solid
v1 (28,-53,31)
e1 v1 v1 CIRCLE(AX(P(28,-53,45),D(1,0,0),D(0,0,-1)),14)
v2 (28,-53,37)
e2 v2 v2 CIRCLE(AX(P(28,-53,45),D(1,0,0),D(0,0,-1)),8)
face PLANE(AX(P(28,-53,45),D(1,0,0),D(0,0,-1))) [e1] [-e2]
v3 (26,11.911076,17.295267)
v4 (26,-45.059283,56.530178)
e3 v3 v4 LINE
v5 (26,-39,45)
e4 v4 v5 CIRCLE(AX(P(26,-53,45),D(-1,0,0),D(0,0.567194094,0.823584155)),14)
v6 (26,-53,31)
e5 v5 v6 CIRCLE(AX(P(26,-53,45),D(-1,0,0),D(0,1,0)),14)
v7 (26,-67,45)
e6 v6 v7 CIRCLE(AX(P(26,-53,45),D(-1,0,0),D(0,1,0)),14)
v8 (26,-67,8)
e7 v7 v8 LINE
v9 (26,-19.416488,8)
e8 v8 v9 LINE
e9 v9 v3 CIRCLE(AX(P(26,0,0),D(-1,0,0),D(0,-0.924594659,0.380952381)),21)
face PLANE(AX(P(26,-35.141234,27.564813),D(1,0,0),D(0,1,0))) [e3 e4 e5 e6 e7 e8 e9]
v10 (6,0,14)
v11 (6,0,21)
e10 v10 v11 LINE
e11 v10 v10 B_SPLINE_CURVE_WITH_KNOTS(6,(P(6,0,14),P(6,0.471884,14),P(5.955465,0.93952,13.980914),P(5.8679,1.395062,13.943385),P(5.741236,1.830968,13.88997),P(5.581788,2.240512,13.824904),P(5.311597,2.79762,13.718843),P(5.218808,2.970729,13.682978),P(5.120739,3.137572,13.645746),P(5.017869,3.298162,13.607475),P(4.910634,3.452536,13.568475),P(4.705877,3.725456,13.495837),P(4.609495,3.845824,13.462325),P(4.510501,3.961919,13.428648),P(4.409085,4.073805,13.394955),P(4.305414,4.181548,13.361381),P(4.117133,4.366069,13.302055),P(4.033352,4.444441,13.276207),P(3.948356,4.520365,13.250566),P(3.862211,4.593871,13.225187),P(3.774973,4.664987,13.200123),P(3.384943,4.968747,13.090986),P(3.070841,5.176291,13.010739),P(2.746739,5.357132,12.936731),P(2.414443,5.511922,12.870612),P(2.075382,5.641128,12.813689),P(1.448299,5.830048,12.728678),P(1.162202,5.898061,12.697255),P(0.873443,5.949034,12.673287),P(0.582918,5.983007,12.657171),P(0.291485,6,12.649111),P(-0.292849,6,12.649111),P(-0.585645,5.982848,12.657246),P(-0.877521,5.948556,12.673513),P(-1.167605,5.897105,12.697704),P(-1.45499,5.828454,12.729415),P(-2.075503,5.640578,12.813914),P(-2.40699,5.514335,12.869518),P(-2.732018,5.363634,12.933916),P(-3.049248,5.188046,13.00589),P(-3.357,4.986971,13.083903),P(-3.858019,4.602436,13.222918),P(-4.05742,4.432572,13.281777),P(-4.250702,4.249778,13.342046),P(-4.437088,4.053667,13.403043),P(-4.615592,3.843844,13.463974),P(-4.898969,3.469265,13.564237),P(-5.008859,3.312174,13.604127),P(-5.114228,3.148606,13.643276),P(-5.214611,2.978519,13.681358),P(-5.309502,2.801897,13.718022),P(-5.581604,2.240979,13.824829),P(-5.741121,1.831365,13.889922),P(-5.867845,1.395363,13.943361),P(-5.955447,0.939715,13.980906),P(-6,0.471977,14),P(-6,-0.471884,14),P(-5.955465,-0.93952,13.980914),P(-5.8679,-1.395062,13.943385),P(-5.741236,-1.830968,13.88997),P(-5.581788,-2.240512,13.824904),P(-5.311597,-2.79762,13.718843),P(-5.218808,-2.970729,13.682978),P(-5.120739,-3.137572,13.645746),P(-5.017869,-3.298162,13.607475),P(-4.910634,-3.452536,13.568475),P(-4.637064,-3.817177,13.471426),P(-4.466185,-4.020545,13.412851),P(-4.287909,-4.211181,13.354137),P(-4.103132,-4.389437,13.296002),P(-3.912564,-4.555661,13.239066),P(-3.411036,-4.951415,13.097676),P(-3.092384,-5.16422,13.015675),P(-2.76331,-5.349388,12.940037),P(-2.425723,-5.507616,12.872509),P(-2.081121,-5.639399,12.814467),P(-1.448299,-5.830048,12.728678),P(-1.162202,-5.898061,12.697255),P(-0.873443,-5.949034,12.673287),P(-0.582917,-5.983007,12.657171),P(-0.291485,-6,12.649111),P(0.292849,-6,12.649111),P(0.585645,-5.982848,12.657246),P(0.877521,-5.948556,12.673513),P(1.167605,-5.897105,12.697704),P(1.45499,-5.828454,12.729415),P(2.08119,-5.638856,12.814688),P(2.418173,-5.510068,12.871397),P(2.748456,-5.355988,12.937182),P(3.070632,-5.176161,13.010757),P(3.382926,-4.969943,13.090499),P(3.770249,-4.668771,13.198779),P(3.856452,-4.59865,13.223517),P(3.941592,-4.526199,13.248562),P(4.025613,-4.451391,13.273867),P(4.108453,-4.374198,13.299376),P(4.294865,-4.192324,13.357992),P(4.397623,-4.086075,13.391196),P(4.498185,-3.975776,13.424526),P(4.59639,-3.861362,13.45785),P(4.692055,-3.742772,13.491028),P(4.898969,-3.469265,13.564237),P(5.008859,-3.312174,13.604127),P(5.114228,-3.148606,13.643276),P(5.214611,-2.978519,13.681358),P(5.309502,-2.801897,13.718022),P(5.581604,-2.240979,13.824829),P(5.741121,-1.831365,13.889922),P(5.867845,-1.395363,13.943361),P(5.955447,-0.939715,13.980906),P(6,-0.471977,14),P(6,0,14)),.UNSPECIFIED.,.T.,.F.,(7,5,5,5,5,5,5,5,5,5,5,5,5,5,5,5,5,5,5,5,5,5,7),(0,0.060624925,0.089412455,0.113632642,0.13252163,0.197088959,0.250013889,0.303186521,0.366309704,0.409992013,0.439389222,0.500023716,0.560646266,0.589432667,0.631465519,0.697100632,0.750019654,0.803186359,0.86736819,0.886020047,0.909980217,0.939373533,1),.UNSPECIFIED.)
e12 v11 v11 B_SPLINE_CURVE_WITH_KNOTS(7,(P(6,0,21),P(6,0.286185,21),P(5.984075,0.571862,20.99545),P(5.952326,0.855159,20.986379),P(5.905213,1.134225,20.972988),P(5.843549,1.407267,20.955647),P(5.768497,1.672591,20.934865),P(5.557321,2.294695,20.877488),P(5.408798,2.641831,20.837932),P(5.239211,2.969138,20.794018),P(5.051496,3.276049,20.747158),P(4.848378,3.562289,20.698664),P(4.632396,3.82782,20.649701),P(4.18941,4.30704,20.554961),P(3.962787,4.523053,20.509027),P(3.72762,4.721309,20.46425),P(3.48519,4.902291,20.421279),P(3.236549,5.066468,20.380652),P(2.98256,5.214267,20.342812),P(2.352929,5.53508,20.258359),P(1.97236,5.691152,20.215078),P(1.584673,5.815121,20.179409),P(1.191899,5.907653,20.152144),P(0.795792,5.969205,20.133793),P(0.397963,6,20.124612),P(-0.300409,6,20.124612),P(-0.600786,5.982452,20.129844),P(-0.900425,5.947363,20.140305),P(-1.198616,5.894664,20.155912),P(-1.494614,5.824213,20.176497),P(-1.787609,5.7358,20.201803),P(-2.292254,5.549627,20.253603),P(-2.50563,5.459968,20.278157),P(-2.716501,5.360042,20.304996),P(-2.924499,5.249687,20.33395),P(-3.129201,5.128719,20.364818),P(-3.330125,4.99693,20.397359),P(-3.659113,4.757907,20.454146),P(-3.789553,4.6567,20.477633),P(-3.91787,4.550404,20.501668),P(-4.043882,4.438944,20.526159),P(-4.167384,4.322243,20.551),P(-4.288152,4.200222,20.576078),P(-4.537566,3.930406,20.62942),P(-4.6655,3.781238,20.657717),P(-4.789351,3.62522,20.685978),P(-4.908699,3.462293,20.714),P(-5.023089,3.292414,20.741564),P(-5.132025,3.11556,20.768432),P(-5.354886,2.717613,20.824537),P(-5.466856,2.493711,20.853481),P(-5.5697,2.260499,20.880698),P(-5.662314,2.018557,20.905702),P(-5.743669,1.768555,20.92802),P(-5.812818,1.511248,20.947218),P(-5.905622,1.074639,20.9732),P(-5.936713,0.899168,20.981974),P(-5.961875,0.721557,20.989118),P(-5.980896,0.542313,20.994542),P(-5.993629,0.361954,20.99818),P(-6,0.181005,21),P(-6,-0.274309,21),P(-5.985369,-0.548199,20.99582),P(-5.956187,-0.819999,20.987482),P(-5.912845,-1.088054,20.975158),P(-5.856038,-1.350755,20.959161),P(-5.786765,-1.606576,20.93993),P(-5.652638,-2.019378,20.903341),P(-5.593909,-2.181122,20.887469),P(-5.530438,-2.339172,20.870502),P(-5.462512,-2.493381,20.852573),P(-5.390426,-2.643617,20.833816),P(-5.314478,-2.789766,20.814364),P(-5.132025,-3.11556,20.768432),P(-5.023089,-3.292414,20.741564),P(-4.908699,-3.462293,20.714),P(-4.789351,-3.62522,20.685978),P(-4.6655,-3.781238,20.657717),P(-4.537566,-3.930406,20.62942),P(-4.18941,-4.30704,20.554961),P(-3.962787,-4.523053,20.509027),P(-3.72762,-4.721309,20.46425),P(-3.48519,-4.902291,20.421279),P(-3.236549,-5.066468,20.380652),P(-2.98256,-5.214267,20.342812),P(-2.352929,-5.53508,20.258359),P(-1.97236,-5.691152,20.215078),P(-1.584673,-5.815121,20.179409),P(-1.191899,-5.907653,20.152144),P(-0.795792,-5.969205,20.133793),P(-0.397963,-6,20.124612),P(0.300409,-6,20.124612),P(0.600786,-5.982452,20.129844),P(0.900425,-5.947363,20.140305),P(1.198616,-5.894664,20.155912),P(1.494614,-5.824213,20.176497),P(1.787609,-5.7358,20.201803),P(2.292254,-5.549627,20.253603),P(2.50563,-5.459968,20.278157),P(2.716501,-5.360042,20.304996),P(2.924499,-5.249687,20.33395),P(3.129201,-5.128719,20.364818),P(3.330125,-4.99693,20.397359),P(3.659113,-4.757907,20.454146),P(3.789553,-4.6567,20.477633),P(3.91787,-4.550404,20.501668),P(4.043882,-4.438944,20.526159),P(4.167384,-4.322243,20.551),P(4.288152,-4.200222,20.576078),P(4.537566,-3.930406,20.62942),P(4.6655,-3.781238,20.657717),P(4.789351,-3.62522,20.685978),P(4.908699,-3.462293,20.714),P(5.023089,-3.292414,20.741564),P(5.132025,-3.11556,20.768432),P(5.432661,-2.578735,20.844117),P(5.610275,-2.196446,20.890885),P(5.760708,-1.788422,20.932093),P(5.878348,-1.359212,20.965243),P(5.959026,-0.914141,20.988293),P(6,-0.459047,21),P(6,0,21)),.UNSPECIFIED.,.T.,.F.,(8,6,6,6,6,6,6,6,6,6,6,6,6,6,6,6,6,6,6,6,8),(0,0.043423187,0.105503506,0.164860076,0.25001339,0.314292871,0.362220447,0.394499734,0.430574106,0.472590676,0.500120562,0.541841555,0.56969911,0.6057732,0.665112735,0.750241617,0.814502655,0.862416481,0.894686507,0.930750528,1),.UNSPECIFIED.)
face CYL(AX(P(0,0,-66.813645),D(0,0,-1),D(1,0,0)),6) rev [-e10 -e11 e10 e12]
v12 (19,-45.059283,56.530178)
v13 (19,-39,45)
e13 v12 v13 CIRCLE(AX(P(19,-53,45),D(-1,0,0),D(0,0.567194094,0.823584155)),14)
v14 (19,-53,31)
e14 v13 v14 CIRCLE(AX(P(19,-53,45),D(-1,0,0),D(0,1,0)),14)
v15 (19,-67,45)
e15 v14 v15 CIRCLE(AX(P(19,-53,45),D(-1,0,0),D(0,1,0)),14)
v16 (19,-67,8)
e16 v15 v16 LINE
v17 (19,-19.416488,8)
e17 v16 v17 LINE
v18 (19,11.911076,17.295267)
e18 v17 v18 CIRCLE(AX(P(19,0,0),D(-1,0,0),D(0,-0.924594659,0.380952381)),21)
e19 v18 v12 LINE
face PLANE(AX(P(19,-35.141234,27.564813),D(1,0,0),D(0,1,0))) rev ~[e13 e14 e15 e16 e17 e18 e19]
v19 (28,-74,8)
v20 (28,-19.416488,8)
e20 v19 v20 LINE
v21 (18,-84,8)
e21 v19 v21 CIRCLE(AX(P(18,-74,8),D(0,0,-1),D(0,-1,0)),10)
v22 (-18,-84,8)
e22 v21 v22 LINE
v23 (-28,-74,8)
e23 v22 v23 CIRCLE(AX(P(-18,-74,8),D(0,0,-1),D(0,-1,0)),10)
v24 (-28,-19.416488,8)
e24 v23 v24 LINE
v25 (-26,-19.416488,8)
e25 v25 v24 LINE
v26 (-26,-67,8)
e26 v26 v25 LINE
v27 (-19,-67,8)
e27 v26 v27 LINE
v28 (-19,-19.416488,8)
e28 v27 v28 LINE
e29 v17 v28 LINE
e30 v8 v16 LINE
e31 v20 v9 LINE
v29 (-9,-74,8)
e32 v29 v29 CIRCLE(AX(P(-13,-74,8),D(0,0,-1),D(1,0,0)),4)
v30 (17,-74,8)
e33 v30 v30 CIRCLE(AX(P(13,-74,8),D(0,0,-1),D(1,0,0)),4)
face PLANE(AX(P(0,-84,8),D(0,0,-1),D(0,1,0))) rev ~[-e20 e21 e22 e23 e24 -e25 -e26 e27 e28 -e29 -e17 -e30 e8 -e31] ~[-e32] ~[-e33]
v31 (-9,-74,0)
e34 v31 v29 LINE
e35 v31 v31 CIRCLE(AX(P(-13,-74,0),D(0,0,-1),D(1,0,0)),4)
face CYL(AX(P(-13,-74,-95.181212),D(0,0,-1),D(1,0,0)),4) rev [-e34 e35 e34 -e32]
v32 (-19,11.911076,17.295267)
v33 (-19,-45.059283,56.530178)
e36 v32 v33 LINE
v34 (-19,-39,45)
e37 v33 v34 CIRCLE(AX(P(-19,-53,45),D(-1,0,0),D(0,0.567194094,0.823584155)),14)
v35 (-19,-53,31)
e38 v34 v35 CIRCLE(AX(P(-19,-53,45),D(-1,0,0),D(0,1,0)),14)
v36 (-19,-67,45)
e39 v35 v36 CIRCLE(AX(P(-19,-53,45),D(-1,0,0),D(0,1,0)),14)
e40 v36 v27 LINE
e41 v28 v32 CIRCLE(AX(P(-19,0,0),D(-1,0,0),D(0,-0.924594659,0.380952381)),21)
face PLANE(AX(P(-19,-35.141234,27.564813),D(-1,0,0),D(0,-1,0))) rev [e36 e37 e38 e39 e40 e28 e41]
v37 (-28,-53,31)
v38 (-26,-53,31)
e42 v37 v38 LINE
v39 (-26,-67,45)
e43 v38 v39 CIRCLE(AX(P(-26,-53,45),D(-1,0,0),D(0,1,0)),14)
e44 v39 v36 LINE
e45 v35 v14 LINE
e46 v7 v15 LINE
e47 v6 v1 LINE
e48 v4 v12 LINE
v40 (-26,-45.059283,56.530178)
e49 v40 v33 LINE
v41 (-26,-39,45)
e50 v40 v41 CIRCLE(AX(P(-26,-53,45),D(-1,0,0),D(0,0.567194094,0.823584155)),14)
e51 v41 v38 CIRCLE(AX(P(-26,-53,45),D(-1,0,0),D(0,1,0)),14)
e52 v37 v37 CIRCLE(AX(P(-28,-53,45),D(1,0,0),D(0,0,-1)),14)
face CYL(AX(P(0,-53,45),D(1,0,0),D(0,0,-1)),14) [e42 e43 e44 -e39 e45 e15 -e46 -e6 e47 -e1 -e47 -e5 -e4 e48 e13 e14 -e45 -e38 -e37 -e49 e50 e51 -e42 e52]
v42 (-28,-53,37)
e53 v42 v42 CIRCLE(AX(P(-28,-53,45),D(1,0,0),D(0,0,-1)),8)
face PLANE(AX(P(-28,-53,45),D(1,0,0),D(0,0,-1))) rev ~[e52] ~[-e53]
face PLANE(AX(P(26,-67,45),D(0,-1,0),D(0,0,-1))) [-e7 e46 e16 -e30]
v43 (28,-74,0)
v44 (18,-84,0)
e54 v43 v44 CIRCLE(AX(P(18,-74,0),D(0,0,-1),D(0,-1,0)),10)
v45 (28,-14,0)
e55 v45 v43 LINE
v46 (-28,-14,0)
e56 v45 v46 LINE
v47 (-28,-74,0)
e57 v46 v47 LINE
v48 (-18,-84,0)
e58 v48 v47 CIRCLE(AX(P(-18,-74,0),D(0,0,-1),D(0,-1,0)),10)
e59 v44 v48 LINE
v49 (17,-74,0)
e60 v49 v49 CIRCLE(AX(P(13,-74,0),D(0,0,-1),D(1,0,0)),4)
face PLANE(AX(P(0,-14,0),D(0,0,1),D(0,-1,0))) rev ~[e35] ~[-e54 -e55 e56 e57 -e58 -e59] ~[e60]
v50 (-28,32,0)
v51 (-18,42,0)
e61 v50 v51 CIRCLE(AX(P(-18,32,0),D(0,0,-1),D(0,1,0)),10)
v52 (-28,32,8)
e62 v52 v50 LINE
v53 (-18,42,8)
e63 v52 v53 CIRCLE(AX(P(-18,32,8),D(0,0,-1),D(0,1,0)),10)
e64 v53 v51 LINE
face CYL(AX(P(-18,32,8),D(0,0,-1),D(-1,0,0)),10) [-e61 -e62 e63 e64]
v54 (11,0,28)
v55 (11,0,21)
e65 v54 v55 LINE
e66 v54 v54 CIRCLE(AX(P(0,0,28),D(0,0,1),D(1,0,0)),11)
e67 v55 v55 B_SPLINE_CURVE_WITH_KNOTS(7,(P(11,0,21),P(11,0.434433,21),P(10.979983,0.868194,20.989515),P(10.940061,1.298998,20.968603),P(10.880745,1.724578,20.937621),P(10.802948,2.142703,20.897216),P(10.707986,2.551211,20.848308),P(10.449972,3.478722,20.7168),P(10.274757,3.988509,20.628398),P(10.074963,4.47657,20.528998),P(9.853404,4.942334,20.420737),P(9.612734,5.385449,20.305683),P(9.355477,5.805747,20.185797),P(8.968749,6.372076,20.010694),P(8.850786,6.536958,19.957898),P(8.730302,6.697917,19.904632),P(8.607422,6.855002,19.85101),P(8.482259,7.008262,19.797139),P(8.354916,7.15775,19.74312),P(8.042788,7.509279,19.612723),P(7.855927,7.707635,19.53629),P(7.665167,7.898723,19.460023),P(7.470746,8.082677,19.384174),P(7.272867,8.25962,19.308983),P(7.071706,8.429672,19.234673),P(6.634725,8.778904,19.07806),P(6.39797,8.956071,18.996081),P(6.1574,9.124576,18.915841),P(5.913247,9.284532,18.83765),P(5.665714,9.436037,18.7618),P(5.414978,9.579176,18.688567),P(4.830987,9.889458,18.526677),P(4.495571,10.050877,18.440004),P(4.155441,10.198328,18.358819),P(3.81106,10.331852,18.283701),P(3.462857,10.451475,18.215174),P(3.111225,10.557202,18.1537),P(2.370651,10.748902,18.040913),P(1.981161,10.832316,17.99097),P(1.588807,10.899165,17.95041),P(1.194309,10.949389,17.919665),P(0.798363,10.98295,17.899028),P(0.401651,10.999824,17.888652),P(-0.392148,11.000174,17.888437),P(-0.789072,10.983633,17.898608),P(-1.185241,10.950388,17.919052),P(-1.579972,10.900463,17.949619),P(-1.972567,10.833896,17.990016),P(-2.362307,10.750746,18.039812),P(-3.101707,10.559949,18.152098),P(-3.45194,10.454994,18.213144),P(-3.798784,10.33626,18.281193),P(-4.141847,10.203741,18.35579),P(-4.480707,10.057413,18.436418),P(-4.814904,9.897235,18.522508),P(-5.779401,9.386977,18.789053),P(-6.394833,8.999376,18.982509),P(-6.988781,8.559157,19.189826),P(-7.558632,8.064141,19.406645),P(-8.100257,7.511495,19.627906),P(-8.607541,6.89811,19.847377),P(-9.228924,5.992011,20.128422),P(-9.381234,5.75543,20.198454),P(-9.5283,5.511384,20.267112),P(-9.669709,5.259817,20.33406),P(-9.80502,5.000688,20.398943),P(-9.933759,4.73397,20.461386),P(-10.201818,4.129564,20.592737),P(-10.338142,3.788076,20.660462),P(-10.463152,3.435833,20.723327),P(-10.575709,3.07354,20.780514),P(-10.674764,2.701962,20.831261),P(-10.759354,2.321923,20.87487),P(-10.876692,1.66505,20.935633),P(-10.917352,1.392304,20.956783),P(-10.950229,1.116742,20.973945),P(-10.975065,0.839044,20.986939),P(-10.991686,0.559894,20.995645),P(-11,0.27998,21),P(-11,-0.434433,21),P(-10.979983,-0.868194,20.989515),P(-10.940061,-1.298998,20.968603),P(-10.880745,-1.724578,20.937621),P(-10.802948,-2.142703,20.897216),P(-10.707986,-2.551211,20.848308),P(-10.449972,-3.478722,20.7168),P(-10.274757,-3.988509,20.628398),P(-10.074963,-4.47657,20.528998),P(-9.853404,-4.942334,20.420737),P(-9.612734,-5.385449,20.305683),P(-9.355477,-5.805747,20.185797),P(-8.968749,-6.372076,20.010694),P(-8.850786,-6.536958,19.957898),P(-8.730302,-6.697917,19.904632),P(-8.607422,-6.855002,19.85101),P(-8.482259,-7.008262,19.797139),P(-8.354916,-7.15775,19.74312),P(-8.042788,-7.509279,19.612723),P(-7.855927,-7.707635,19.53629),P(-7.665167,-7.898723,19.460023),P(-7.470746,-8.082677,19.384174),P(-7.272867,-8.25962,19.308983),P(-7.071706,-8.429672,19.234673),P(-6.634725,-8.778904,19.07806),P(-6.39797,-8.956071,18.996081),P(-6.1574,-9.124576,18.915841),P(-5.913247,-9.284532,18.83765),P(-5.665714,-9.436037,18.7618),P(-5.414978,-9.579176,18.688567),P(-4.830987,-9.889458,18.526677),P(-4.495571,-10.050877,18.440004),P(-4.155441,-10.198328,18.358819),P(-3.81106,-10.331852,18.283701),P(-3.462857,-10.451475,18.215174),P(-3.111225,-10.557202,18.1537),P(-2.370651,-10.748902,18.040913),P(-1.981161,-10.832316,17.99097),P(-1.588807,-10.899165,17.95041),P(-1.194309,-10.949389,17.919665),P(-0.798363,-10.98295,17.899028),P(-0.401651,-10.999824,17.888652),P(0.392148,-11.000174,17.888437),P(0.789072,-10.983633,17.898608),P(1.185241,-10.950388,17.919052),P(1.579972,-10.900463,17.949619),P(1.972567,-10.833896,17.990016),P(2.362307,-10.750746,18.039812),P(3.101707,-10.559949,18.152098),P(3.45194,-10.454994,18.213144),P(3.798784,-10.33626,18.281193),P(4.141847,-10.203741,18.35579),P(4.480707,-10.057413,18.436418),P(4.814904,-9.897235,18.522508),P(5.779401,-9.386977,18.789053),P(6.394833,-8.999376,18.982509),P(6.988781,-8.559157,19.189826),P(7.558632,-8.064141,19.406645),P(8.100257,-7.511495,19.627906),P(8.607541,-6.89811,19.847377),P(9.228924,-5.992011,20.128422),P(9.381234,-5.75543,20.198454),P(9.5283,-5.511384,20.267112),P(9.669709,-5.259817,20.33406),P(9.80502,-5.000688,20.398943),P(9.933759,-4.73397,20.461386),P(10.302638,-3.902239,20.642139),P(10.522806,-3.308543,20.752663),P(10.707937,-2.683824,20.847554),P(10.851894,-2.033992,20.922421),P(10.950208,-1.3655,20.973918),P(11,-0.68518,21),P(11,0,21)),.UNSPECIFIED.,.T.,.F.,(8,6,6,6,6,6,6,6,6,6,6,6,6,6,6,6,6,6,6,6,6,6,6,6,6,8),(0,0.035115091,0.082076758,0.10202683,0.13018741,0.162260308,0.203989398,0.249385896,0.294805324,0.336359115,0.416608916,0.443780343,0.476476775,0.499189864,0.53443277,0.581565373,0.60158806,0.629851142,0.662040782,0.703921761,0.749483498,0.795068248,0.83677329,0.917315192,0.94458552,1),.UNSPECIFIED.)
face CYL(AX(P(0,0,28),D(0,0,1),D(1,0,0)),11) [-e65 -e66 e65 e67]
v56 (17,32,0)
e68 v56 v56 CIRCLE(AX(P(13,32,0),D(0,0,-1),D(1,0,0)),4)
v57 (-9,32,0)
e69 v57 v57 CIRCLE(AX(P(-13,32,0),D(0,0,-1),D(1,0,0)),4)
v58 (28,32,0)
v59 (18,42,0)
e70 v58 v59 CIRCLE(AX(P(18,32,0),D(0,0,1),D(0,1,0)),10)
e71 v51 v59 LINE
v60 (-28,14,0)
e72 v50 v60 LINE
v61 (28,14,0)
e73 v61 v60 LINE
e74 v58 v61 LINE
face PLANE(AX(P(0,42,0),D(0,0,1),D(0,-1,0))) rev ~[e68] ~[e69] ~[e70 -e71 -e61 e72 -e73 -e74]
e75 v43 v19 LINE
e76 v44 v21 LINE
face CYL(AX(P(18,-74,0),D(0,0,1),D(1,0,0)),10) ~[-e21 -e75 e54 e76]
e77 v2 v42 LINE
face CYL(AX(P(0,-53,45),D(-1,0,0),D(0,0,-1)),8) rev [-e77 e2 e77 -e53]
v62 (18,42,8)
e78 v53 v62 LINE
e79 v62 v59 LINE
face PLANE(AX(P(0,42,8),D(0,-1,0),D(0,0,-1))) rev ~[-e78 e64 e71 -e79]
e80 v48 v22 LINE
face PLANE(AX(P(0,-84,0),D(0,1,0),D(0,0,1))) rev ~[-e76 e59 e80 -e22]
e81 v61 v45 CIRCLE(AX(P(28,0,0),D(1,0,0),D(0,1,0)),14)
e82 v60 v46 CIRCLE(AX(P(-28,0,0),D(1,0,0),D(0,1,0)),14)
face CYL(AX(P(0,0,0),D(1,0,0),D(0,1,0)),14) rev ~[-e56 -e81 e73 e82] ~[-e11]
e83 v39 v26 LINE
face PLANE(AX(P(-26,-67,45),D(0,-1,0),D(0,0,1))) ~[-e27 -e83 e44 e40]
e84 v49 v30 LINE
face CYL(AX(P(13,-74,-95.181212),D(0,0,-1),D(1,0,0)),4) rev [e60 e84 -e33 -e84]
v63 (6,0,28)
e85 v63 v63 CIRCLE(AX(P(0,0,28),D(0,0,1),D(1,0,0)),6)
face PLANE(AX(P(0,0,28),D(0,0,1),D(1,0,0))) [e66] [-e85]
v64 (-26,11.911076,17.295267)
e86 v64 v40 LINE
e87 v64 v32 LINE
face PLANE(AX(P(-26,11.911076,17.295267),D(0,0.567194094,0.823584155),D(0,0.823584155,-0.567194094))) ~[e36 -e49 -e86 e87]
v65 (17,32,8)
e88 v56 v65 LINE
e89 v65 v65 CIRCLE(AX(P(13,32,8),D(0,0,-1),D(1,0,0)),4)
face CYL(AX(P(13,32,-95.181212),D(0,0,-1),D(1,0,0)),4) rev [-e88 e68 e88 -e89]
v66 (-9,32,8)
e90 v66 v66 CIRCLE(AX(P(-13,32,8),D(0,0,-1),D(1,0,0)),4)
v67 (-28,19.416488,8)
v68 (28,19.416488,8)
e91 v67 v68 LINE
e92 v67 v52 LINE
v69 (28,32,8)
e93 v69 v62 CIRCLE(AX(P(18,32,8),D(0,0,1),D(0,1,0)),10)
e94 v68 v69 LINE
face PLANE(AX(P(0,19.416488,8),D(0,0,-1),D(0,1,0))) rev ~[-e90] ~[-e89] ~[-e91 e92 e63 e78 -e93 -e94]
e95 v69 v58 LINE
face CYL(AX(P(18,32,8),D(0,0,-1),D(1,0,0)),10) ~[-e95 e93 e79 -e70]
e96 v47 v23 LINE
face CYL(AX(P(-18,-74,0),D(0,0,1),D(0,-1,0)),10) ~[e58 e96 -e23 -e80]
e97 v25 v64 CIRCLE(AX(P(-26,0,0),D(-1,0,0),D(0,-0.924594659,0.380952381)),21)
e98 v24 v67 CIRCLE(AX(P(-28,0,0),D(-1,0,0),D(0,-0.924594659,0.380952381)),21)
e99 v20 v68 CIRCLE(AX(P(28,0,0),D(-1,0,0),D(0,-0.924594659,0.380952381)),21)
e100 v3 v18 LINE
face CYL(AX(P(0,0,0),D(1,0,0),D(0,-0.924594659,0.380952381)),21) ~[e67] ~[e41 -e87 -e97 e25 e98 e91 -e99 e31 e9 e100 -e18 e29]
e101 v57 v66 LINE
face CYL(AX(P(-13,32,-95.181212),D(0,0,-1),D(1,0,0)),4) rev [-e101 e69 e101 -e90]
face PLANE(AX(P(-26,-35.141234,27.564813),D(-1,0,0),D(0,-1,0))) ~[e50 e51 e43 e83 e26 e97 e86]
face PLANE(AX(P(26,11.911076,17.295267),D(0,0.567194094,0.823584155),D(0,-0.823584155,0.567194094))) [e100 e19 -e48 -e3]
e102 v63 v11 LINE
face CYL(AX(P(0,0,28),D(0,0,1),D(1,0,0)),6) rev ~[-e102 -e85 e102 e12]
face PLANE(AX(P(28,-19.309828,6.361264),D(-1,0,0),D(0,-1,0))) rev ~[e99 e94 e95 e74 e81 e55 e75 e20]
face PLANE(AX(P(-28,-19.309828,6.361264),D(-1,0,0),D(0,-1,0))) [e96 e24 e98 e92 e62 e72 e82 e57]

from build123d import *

# Parameters (mm, degrees)
BOSS_EXTRUDE1_DEPTH      = 28
FILLET1_R                = 10
SKETCH2_R                = 14
SKETCH2_R_2              = 8
BOSS_EXTRUDE3_DEPTH      = 28
BOSS_EXTRUDE4_START      = 7
BOSS_EXTRUDE4_DEPTH      = 7
BOSS_EXTRUDE5_REACH      = 95.814
BOSS_EXTRUDE5_END_RADIUS = 21
SKETCH5_R                = 11
SKETCH5_R_2              = 6
CUT_EXTRUDE1_DEPTH       = 94.813645093
CUT_EXTRUDE1_DEPTH_BACK  = 94.813645093
SKETCH6_R                = 6
CUT_EXTRUDE2_DEPTH       = 103.181211608
CUT_EXTRUDE2_DEPTH_BACK  = 103.181211608
SKETCH8_R                = 4
CUT_EXTRUDE3_DEPTH       = 103.181211608
CUT_EXTRUDE3_DEPTH_BACK  = 103.181211608
SKETCH9_R                = 4


with BuildPart() as part:
    # Sketch1 → Boss-Extrude1 (new, symmetric)
    with BuildSketch(Plane.YZ):
        with BuildLine():
            Line((42, 0), (14, 0))
            ThreePointArc((14, 0), (0, 14), (-14, 0))
            Line((-14, 0), (-84, 0))
            Line((-84, 0), (-84, 8))
            Line((-84, 8), (-19.416487839, 8))
            ThreePointArc((-19.416487839, 8), (0, 21), (19.416487839, 8))
            Line((19.416487839, 8), (42, 8))
            Line((42, 8), (42, 0))
        make_face()
    extrude(amount=BOSS_EXTRUDE1_DEPTH, both=True)

    # Fillet1
    fillet1_edges = [part.edges().sort_by_distance(p)[0] for p in [
        (-28, 42, 4),
        (28, -84, 4),
        (28, 42, 4),
        (-28, -84, 4),
    ]]
    fillet(fillet1_edges, radius=FILLET1_R)



with BuildPart() as body_2:
    # Sketch2 → Boss-Extrude3 (new, symmetric)
    with BuildSketch(Plane.YZ):
        with Locations(Location((-53, 45, 0), (0, 0, 270))):
            Circle(SKETCH2_R)
        with Locations(Location((-53, 45, 0), (0, 0, 270))):
            Circle(SKETCH2_R_2, mode=Mode.SUBTRACT)
    extrude(amount=BOSS_EXTRUDE3_DEPTH, both=True)


with BuildPart() as part_1:
    add(part.part)

    add(body_2.part)  # Boss-Extrude4 merges body 2
    # Sketch3 → Boss-Extrude4 (add)
    with BuildSketch(Plane.YZ.offset(19).offset(BOSS_EXTRUDE4_START)):
        with BuildLine():
            ThreePointArc((-39, 45), (-53, 31), (-67, 45))
            Line((-67, 45), (-67, 8))
            Line((-67, 8), (-19.416487839, 8))
            ThreePointArc((-19.416487839, 8), (-5.973550046, 20.132478731), (11.911075968, 17.295267251))
            Line((11.911075968, 17.295267251), (-45.059282688, 56.530178167))
            ThreePointArc((-45.059282688, 56.530178167), (-40.607057606, 51.512678314), (-39, 45))
        make_face()
    boss_extrude4 = extrude(amount=-BOSS_EXTRUDE4_DEPTH)

    # Mirror1: Boss-Extrude4 across plane
    add(boss_extrude4.mirror(Plane(origin=(0, 0, 0), x_dir=(0, 0, 1), z_dir=(1, 0, 0))))

    # Boss-Extrude5: up to this cylinder (the profile starts outside it)
    boss_extrude5_end = Plane(origin=(-10.688873, 0, 0), z_dir=(-1, 0, 0)) * Cylinder(BOSS_EXTRUDE5_END_RADIUS, 234.628, mode=Mode.PRIVATE)
    # Sketch5 → Boss-Extrude5 (add, up to the surface)
    with BuildSketch(Plane.XY.offset(28), mode=Mode.PRIVATE) as boss_extrude5_sk1:
        Circle(SKETCH5_R)
        Circle(SKETCH5_R_2, mode=Mode.SUBTRACT)
    boss_extrude5_tool1 = extrude(boss_extrude5_sk1.sketch, amount=-BOSS_EXTRUDE5_REACH, mode=Mode.PRIVATE) - boss_extrude5_end
    add(boss_extrude5_tool1.solids().sort_by_distance((-10.688873, 0, 28))[0])

    # Sketch6 → Cut-Extrude1 (cut, two sides: drawn at the far end of the back side and taken through both)
    with BuildSketch(Plane.XY.offset(28).offset(-CUT_EXTRUDE1_DEPTH_BACK)):
        Circle(SKETCH6_R)
    extrude(amount=CUT_EXTRUDE1_DEPTH + CUT_EXTRUDE1_DEPTH_BACK, mode=Mode.SUBTRACT)

    # Sketch8 → Cut-Extrude2 (cut, two sides: drawn at the far end of the back side and taken through both)
    with BuildSketch(Plane.XY.offset(8).offset(-CUT_EXTRUDE2_DEPTH_BACK)):
        with Locations((-13, 32)):
            Circle(SKETCH8_R)
        with Locations((13, 32)):
            Circle(SKETCH8_R)
    extrude(amount=CUT_EXTRUDE2_DEPTH + CUT_EXTRUDE2_DEPTH_BACK, mode=Mode.SUBTRACT)

    # Sketch9 → Cut-Extrude3 (cut, two sides: drawn at the far end of the back side and taken through both)
    with BuildSketch(Plane.XY.offset(8).offset(-CUT_EXTRUDE3_DEPTH_BACK)):
        with Locations((-13, -74)):
            Circle(SKETCH9_R)
        with Locations((13, -74)):
            Circle(SKETCH9_R)
    extrude(amount=CUT_EXTRUDE3_DEPTH + CUT_EXTRUDE3_DEPTH_BACK, mode=Mode.SUBTRACT)


solid = part_1.part
